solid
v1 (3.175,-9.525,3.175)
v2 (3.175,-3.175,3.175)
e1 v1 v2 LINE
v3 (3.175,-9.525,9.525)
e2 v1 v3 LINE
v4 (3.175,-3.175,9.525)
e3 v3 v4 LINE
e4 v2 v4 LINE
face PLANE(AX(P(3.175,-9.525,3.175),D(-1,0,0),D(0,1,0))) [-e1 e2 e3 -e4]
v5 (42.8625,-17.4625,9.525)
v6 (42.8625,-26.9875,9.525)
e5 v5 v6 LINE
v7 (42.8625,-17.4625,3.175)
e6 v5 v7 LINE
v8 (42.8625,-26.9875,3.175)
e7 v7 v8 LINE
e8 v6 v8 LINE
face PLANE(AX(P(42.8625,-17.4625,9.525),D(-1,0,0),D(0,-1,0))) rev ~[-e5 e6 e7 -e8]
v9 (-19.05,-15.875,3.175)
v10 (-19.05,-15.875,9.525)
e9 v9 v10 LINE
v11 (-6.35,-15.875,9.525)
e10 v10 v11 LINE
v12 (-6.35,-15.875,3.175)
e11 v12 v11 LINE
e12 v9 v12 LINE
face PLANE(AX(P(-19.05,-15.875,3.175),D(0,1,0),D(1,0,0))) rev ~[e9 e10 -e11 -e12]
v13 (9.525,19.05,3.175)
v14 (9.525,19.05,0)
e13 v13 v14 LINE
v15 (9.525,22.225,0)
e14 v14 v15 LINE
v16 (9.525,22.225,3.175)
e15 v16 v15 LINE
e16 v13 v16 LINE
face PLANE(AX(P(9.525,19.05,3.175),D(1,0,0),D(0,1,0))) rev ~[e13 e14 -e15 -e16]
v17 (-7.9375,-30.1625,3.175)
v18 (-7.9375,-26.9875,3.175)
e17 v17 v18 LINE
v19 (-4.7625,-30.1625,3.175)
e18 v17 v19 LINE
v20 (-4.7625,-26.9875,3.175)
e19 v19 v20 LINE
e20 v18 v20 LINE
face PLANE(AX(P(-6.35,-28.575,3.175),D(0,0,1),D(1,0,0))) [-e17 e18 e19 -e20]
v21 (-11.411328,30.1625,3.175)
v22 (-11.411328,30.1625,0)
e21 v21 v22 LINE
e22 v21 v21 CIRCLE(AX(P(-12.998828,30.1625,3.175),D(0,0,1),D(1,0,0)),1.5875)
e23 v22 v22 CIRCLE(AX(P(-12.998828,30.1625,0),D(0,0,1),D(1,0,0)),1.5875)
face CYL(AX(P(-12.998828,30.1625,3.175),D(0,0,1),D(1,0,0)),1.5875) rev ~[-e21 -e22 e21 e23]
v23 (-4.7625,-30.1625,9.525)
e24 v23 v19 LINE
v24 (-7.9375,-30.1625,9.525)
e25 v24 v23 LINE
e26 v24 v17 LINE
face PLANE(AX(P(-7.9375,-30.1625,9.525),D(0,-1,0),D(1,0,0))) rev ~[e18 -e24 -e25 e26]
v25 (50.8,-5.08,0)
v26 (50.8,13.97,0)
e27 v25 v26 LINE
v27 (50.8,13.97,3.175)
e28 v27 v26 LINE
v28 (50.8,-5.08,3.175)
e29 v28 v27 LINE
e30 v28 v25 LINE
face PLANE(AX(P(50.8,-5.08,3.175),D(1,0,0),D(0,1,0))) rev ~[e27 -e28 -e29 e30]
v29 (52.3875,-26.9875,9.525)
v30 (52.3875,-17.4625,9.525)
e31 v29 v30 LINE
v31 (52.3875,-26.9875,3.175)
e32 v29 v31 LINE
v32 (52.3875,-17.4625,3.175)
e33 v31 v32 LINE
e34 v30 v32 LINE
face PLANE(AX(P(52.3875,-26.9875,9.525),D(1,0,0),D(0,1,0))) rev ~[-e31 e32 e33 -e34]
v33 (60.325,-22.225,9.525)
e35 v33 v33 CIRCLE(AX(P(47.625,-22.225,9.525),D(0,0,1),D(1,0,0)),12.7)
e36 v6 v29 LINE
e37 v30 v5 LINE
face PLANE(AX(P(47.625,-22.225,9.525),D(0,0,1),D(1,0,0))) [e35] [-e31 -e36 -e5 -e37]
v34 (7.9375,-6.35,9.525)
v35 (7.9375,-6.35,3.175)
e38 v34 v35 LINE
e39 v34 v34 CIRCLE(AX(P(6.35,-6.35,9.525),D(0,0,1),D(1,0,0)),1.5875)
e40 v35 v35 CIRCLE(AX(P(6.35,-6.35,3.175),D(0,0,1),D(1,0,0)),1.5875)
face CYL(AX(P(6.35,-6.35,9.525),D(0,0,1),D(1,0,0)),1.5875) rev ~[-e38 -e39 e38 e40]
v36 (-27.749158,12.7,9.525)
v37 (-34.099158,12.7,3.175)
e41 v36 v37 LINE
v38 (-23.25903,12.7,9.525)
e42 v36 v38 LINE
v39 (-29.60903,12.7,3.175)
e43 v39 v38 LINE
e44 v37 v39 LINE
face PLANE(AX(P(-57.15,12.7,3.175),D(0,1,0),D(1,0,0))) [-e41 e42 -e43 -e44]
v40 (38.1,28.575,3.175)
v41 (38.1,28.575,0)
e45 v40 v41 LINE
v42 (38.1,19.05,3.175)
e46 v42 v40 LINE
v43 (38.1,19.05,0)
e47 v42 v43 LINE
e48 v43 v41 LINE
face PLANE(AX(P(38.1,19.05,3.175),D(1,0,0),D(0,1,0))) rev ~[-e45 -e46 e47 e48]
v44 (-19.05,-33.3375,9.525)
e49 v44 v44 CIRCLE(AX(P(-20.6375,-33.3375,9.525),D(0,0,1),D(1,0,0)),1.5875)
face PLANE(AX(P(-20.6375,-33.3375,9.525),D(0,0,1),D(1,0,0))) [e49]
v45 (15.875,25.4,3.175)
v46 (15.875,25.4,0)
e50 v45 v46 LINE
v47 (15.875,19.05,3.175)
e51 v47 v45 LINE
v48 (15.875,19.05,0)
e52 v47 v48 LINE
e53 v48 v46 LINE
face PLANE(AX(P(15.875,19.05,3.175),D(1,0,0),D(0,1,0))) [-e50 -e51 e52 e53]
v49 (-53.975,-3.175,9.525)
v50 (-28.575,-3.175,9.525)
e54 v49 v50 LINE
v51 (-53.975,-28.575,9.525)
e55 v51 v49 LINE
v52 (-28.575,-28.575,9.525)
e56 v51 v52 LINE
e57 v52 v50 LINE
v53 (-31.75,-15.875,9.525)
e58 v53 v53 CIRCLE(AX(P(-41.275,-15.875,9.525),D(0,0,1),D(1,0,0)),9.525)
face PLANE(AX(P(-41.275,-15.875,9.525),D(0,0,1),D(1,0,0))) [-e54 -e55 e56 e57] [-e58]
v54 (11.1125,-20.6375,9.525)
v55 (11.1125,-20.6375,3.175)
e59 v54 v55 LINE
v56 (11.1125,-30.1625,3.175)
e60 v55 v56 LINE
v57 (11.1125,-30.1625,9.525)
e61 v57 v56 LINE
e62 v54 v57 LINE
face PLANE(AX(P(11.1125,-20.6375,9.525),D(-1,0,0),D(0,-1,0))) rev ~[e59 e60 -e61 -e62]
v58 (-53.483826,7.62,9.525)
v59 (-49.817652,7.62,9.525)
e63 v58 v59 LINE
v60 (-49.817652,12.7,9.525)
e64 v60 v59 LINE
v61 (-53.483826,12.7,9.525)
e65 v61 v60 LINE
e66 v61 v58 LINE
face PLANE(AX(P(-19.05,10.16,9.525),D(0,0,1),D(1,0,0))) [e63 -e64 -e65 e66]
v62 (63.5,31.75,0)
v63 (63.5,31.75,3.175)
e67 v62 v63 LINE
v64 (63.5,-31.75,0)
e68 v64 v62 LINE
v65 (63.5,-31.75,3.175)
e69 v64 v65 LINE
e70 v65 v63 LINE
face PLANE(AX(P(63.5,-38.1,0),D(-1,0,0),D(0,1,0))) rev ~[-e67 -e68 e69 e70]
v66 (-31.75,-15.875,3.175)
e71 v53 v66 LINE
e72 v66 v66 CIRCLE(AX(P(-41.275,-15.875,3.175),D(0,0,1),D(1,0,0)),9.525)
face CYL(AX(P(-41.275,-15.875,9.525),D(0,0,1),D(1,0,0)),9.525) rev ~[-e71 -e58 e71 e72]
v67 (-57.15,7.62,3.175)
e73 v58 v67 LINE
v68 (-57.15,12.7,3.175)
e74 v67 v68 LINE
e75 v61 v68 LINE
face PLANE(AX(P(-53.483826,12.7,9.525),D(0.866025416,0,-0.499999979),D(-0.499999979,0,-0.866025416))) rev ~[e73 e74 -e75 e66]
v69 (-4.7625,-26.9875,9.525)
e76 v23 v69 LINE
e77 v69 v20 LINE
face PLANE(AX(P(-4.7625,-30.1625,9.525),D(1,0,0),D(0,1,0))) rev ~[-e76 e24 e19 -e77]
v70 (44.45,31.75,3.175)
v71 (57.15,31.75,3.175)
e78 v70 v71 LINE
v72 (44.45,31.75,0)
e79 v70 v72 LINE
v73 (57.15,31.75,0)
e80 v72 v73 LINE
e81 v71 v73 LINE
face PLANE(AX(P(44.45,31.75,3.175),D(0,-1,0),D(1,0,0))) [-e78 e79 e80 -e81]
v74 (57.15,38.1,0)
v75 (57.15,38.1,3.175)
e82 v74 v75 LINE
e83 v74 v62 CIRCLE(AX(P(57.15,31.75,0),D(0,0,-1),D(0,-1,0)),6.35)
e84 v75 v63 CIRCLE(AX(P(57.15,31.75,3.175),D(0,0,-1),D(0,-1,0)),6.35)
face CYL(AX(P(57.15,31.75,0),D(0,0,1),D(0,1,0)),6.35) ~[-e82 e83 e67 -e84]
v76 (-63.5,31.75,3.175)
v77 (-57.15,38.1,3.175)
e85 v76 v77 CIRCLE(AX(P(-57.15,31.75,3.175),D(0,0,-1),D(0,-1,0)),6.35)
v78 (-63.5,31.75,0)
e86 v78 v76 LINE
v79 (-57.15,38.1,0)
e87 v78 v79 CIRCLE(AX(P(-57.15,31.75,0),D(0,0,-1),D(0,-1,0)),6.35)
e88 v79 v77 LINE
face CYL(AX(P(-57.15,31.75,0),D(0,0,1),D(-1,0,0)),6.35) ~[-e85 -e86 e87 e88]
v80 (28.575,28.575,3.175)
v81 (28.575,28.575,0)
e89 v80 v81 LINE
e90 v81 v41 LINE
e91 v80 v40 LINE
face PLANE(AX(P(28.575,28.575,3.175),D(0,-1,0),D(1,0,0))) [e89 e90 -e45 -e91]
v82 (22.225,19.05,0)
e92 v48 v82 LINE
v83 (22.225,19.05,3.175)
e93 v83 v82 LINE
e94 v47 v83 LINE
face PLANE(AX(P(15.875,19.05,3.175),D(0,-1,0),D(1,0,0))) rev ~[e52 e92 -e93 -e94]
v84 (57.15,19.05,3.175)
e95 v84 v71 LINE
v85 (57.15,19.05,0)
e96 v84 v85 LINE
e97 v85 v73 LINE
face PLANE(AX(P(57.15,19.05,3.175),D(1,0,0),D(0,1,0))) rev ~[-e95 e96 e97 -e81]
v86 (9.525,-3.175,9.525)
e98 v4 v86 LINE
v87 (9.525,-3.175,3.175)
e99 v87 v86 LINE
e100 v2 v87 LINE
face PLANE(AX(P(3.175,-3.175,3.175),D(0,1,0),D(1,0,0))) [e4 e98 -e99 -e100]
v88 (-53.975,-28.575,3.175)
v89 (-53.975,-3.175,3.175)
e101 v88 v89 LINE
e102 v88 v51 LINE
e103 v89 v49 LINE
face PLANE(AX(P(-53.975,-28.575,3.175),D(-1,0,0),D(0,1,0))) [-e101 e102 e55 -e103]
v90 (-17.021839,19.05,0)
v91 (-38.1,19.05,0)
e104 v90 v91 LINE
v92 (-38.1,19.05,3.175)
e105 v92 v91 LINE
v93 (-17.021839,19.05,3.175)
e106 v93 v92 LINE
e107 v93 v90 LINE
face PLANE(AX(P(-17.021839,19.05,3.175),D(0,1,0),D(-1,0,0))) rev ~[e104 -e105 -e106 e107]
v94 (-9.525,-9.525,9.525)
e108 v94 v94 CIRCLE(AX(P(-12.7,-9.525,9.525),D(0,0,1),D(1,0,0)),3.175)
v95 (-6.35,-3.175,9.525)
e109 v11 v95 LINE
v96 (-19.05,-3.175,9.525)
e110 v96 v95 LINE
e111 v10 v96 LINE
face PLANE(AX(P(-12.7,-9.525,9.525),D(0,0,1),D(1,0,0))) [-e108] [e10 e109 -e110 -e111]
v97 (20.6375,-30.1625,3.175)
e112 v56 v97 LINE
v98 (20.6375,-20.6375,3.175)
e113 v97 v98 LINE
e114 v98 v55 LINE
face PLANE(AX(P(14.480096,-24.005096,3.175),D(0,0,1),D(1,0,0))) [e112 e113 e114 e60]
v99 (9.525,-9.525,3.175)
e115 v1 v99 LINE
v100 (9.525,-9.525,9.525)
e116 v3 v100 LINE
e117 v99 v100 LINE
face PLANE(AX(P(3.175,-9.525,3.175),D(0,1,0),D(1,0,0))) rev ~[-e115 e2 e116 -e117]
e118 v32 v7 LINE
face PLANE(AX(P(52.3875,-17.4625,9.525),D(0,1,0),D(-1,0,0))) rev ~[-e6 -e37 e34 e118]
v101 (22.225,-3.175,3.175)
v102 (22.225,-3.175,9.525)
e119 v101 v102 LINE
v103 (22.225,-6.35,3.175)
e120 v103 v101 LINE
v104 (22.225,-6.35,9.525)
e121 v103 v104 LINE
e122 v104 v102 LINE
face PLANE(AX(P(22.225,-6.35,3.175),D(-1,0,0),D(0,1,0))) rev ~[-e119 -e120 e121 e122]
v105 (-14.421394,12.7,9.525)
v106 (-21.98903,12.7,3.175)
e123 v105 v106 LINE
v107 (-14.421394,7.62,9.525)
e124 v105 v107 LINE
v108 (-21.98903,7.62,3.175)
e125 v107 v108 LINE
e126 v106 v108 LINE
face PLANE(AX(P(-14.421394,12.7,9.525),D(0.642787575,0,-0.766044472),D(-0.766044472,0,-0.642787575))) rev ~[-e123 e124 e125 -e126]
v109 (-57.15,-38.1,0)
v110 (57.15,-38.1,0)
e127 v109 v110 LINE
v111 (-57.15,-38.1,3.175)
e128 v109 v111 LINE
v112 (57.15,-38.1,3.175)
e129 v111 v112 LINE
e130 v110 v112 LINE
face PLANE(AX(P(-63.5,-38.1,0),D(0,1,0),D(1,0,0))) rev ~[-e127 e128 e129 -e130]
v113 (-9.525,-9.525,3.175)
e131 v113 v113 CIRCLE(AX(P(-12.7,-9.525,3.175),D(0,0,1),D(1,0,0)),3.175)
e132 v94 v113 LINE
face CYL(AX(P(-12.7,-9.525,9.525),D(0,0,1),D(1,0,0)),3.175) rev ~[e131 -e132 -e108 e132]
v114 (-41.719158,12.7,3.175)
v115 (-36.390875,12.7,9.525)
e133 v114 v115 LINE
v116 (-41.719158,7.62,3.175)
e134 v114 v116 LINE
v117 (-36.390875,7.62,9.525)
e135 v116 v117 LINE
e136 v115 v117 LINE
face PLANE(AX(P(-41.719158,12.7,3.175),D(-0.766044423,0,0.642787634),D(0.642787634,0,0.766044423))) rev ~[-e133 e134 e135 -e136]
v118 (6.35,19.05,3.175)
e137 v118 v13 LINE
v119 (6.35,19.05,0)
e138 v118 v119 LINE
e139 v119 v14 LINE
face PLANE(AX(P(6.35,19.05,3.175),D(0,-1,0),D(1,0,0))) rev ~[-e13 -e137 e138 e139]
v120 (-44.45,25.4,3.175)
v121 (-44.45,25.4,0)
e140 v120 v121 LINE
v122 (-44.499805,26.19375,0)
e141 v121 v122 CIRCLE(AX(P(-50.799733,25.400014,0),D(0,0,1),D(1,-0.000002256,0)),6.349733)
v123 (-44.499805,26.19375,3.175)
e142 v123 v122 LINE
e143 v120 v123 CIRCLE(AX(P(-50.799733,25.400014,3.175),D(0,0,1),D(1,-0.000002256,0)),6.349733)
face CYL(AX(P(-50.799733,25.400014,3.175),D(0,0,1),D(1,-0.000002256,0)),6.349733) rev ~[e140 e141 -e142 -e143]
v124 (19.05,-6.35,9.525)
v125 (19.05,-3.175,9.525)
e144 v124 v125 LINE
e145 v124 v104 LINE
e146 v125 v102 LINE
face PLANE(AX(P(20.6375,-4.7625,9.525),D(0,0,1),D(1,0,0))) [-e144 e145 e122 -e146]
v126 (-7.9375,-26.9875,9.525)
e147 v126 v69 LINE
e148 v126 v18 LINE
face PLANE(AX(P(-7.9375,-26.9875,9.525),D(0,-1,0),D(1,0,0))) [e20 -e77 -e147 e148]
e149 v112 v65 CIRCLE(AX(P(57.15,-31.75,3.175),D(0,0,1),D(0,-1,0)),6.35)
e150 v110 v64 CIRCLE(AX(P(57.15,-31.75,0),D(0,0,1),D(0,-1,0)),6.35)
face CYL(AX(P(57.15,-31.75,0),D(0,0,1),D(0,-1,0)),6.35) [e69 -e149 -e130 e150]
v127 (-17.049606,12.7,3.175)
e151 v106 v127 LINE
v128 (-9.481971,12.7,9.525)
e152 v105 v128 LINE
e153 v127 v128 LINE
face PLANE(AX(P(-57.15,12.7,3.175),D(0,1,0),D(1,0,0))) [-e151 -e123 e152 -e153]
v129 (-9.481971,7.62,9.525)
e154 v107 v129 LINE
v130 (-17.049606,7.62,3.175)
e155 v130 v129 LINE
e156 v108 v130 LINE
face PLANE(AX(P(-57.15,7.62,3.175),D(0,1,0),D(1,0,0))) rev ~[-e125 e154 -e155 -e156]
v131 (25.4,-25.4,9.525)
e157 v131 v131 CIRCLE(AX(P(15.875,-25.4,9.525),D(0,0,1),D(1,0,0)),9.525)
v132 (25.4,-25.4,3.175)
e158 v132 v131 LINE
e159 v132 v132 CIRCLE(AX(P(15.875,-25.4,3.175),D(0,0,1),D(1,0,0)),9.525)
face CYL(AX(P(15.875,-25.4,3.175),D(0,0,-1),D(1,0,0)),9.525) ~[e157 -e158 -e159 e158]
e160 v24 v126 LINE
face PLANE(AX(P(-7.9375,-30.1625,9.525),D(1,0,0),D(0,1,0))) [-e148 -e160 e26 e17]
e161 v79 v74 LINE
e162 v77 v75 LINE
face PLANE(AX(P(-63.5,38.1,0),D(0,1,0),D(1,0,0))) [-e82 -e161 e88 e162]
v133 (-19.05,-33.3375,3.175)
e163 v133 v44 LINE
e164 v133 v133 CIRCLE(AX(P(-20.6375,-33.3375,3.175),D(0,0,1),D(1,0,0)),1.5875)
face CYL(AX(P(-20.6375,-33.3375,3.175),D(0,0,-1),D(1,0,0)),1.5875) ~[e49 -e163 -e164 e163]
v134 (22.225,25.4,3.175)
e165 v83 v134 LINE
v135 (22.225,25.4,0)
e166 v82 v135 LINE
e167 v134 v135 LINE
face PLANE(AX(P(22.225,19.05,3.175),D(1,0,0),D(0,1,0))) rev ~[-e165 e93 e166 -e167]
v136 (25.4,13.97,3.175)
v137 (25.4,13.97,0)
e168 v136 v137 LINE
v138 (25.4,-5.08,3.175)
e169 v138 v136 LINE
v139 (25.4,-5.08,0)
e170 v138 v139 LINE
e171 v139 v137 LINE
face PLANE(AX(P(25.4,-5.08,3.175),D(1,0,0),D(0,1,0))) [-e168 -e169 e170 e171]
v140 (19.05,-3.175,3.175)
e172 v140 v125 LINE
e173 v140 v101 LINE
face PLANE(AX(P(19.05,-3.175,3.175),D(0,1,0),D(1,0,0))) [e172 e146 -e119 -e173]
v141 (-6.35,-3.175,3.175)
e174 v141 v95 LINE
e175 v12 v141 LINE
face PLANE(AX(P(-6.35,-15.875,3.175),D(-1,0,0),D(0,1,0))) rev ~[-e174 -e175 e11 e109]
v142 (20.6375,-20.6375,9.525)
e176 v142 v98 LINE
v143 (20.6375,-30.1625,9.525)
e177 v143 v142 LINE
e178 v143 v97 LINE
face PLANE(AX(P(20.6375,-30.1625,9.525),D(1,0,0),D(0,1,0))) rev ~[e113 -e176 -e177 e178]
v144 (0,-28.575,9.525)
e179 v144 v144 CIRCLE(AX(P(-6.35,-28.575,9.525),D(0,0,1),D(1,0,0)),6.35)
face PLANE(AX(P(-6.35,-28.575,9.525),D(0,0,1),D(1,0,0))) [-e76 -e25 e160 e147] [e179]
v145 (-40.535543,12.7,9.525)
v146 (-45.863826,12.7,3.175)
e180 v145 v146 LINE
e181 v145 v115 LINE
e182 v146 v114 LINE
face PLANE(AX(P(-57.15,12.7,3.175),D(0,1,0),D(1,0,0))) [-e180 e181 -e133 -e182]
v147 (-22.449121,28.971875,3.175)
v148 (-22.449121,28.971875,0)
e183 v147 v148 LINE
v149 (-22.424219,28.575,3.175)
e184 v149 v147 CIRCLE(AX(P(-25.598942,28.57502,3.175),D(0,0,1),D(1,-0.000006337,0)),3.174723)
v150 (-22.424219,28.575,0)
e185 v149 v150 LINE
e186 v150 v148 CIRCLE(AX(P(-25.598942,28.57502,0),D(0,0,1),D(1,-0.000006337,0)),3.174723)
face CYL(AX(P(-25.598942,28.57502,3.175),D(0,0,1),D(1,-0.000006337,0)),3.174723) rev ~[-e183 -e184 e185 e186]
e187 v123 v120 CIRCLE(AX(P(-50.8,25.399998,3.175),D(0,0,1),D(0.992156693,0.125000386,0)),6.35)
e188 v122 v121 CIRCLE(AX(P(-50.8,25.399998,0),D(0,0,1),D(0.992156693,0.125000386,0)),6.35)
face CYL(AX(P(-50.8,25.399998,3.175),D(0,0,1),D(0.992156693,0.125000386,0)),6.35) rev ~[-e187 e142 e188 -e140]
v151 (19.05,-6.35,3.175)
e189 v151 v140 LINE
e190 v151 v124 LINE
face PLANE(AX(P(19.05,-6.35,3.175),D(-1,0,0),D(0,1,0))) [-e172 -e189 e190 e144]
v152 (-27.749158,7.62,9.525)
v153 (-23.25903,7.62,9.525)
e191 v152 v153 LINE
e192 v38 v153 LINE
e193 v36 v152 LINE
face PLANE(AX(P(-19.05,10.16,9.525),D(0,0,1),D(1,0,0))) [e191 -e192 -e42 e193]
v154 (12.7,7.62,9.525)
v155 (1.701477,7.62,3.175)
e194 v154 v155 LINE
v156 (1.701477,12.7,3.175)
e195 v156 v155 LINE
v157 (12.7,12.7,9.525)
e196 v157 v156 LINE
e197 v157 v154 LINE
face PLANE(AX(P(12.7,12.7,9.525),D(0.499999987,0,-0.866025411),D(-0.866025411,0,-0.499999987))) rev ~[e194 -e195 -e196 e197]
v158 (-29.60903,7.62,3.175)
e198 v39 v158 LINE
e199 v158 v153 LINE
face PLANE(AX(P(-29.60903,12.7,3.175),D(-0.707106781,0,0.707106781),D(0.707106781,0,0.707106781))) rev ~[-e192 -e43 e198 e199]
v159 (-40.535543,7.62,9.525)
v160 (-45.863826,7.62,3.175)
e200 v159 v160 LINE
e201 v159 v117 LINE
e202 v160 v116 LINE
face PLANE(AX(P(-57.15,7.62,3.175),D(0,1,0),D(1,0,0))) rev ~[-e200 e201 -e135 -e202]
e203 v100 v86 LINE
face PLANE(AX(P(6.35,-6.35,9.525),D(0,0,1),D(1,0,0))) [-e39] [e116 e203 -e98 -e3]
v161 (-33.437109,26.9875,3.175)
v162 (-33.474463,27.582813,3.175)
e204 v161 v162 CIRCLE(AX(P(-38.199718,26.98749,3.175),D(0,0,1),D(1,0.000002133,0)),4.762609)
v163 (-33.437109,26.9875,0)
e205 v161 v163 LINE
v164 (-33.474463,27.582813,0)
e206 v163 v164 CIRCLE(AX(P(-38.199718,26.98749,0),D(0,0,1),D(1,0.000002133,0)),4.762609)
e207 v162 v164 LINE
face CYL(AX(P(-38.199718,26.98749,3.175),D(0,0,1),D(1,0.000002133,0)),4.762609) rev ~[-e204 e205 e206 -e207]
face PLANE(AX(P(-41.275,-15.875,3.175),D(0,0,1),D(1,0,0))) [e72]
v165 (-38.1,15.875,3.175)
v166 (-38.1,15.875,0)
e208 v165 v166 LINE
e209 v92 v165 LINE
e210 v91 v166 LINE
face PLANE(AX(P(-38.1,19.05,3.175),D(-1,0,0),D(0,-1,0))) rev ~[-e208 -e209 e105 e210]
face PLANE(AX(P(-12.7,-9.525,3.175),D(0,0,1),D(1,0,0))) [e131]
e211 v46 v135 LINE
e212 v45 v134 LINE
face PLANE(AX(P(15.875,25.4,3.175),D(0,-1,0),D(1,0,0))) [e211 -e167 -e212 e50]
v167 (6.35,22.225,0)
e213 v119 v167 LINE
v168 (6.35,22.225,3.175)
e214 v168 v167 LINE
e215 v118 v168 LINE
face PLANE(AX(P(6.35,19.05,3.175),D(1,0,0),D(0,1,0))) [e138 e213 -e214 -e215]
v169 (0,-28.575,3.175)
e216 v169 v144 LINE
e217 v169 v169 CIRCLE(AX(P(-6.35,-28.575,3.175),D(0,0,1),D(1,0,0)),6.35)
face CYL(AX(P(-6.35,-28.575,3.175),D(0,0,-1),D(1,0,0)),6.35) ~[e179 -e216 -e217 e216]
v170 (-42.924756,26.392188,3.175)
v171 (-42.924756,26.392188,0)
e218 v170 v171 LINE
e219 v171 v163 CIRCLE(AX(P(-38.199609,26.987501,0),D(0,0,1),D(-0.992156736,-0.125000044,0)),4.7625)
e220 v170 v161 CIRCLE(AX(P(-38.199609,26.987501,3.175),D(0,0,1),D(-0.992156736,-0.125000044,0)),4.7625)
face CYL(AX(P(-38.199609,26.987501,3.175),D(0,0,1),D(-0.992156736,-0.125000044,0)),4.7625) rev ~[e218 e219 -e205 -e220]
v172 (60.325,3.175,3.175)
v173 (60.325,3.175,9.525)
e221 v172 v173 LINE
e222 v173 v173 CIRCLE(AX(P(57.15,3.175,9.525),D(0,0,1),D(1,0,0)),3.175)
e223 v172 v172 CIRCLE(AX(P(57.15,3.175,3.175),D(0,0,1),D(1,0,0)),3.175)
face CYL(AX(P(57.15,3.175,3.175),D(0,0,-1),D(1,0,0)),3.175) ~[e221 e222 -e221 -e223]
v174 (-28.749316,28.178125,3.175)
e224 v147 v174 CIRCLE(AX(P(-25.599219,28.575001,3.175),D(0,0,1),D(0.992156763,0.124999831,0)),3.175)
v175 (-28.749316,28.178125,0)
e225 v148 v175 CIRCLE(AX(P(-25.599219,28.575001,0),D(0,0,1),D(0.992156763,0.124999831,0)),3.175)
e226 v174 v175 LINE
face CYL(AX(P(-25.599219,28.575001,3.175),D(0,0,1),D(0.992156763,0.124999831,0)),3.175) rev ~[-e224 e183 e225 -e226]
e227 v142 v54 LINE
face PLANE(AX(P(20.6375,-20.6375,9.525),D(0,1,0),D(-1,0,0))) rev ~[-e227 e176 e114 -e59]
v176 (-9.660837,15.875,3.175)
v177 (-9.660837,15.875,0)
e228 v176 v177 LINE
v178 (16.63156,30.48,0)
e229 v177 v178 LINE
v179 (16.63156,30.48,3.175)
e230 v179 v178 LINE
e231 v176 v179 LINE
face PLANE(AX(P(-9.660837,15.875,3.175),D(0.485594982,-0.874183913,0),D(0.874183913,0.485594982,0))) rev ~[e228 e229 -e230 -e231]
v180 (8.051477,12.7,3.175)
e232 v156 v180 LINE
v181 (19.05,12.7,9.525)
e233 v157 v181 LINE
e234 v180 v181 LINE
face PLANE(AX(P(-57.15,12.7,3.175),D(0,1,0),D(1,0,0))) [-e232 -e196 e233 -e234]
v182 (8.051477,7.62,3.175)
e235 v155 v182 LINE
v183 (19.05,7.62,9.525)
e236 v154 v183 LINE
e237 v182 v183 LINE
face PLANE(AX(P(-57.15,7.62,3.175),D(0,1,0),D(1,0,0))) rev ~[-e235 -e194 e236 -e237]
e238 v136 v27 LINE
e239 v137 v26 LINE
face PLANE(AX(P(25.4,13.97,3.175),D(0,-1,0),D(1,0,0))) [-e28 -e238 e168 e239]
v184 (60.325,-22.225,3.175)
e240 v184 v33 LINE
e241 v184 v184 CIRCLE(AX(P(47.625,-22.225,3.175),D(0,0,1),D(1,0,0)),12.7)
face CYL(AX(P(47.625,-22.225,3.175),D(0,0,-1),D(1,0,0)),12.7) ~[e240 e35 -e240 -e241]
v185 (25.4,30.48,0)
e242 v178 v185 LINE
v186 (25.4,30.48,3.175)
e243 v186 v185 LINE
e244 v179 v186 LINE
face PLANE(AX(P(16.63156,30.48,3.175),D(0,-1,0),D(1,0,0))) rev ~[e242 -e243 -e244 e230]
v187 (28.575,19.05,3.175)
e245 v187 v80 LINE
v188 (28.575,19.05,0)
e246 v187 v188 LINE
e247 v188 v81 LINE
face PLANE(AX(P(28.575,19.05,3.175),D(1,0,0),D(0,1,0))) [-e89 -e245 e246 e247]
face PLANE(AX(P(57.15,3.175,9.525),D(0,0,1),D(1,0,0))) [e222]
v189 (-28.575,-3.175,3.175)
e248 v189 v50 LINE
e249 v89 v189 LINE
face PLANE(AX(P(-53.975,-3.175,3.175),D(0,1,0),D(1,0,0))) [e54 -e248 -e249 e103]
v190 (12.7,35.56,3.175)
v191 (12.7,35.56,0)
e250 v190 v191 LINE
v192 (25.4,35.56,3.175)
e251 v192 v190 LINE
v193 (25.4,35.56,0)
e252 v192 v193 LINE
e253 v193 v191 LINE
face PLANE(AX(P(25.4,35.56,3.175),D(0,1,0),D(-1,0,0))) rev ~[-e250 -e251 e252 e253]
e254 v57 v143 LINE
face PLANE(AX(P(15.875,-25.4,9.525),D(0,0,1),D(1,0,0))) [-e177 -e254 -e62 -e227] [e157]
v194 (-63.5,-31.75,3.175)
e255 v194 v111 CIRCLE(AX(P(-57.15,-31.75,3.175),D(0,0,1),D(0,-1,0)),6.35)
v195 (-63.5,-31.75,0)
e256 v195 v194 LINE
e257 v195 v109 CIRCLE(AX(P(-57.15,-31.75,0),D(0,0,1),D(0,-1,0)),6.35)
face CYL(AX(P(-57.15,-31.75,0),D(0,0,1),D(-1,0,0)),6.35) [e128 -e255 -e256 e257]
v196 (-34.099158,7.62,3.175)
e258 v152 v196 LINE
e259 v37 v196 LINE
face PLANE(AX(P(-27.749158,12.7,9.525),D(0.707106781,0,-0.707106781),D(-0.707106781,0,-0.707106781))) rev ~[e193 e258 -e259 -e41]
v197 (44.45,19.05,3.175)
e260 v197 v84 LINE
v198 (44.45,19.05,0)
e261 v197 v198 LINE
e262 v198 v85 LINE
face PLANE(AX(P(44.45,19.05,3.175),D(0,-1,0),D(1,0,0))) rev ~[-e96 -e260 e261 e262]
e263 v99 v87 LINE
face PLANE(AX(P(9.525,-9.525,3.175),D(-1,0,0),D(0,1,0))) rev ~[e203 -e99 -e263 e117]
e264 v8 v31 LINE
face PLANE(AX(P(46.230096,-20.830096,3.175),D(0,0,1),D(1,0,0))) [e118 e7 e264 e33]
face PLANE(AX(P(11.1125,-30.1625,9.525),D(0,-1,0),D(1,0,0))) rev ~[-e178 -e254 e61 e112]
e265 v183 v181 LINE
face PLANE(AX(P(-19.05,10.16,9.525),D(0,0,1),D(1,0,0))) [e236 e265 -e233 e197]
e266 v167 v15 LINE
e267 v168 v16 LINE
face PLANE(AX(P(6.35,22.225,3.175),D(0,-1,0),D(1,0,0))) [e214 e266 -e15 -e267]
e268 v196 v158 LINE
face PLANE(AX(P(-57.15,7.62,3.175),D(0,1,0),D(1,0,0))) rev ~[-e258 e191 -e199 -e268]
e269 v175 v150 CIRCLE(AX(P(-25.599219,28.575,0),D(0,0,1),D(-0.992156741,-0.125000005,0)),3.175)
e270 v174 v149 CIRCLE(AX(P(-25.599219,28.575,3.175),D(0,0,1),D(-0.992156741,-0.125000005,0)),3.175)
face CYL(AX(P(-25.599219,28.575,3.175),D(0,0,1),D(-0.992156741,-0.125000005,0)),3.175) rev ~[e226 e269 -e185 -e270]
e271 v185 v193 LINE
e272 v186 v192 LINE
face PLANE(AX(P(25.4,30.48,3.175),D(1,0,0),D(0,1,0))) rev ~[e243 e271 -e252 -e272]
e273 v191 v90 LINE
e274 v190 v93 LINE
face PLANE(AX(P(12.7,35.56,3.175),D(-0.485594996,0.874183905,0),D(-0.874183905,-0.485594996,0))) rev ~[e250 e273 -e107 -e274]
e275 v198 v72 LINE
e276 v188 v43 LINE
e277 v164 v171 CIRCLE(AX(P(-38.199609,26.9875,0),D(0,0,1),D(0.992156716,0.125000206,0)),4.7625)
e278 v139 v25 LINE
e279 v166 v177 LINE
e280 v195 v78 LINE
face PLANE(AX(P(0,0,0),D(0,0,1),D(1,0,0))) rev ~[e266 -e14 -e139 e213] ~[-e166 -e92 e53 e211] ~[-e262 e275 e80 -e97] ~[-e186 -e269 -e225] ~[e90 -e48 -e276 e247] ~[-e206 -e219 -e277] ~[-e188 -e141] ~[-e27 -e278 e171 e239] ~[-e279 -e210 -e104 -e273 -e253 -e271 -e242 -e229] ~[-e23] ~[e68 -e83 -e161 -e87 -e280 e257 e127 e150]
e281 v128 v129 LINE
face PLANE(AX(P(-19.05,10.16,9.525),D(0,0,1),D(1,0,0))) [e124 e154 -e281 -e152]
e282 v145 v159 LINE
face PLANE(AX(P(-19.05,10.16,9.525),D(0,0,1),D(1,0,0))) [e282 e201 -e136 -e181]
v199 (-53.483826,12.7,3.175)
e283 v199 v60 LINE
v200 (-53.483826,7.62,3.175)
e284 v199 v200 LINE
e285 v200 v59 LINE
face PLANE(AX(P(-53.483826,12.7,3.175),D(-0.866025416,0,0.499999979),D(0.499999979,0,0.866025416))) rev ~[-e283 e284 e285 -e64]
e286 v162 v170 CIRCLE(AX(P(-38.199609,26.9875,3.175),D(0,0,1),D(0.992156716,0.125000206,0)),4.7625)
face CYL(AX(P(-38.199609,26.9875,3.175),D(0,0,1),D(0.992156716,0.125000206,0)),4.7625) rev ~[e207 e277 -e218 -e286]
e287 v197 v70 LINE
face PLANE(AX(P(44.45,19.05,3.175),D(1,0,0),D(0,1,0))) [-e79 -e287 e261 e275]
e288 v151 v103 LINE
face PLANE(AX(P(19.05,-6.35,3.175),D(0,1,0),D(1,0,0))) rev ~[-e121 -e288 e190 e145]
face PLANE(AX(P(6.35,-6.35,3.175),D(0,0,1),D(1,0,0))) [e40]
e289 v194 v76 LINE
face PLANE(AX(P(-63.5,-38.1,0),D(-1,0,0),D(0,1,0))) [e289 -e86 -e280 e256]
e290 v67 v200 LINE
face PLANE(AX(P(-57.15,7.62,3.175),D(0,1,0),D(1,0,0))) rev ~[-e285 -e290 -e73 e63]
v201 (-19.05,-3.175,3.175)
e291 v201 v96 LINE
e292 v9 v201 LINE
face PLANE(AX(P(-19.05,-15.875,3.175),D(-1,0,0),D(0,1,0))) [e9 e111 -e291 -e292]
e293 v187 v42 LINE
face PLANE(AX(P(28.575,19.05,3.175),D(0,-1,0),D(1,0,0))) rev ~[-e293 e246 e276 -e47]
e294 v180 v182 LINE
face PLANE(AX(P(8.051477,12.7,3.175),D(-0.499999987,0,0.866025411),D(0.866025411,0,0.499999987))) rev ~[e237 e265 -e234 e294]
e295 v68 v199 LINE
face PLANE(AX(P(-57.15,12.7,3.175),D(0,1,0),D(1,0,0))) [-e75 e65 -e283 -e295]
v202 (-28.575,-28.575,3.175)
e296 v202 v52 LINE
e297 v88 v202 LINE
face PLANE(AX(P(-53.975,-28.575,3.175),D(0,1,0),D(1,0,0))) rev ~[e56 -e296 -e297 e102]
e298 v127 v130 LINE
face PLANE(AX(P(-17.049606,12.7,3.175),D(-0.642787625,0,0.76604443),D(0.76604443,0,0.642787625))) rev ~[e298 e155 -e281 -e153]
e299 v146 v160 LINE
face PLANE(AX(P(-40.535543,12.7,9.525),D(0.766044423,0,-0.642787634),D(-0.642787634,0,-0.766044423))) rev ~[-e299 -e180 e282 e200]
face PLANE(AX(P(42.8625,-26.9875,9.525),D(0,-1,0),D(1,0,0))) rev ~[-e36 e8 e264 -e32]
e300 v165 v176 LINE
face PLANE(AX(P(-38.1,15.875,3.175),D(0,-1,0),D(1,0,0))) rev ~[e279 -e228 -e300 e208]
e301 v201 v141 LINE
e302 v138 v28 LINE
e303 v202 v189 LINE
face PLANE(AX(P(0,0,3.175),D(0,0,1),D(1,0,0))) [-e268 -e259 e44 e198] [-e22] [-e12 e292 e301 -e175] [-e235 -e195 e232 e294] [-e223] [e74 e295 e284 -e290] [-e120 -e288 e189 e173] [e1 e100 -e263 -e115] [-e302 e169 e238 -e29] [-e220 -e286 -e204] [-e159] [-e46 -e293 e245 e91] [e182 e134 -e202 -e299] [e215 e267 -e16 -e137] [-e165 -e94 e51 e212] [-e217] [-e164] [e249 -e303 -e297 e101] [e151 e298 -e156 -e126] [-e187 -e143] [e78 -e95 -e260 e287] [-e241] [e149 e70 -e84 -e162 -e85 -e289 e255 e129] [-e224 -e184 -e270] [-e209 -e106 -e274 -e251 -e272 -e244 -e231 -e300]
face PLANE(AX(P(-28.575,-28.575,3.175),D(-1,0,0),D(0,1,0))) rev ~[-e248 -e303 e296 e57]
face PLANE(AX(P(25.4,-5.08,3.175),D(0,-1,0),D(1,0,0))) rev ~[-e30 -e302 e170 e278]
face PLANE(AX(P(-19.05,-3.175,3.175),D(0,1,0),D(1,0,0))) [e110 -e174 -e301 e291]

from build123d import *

# Parameters (mm, degrees)
F0_W      = 127
F0_H      = 76.2
F1_DEPTH  = 3.175
F2_R      = 1.5875
F2_W      = 12.7
F2_H      = 12.7
F2_W_2    = 9.525
F2_H_2    = 9.525
F2_W_3    = 6.35
F2_H_3    = 6.35
F2_W_4    = 3.175
F2_H_4    = 3.175
F3_DEPTH  = 3.175
F4_W      = 25.4
F4_H      = 25.4
F4_W_2    = 12.7
F4_H_2    = 12.7
F4_W_3    = 6.35
F4_H_3    = 6.35
F4_W_4    = 3.175
F4_H_4    = 3.175
F5_DEPTH  = 6.35
F6_R      = 9.525
F6_R_2    = 3.175
F6_R_3    = 1.5875
F7_DEPTH  = 6.35
F8_R      = 12.7
F8_R_2    = 6.35
F8_R_3    = 9.525
F8_R_4    = 3.175
F8_R_5    = 1.5875
F9_DEPTH  = 6.35
F10_W     = 3.175
F10_H     = 3.175
F11_DEPTH = 6.35
F12_W     = 76.2
F12_H     = 5.08
F13_DEPTH = 6.35
F15_DEPTH = 5.08
F16_R     = 6.35
F18_DEPTH = 3.175
F19_W     = 25.4
F19_H     = 19.05
F20_DEPTH = 3.175


with BuildPart() as f1:
    # F0 (on Top) → F1 (new body)
    with BuildSketch(Plane.XY):
        Rectangle(F0_W, F0_H)
    extrude(amount=F1_DEPTH)

    # F2 (on face) → F3 (cut, through all)
    with BuildSketch(Plane.XY.offset(3.175)):
        with BuildLine():
            ThreePointArc((-44.499805, 26.19375), (-57.137537, 25.002345), (-44.45, 25.4))
            ThreePointArc((-44.45, 25.4), (-44.462463, 25.797655), (-44.499805, 26.19375))
        make_face()
        with BuildLine():
            ThreePointArc((-22.449121, 28.971875), (-25.996094, 31.725098), (-28.749316, 28.178125))
            Line((-28.749316, 28.178125), (-22.449121, 28.971875))
        make_face()
        with BuildLine():
            Line((-22.449121, 28.971875), (-28.749316, 28.178125))
            ThreePointArc((-28.749316, 28.178125), (-25.400391, 25.406232), (-22.424219, 28.575))
            ThreePointArc((-22.424219, 28.575), (-22.43045, 28.773828), (-22.449121, 28.971875))
        make_face()
        with BuildLine():
            ThreePointArc((-33.474463, 27.582813), (-38.794922, 31.712646), (-42.924756, 26.392188))
            Line((-42.924756, 26.392188), (-33.474463, 27.582813))
        make_face()
        with BuildLine():
            Line((-33.474463, 27.582813), (-42.924756, 26.392188))
            ThreePointArc((-42.924756, 26.392188), (-37.901368, 22.234348), (-33.437109, 26.9875))
            ThreePointArc((-33.437109, 26.9875), (-33.446457, 27.285742), (-33.474463, 27.582813))
        make_face()
        with Locations((-12.998828, 30.1625)):
            Circle(F2_R)
        with Locations((50.8, 25.4)):
            Rectangle(F2_W, F2_H)
        with Locations((33.3375, 23.8125)):
            Rectangle(F2_W_2, F2_H_2)
        with Locations((19.05, 22.225)):
            Rectangle(F2_W_3, F2_H_3)
        with Locations((7.9375, 20.6375)):
            Rectangle(F2_W_4, F2_H_4)
    extrude(amount=-F3_DEPTH, mode=Mode.SUBTRACT)

    # F4 (on face) → F5 (join)
    with BuildSketch(Plane.XY.offset(3.175)):
        with Locations((-41.275, -15.875)):
            Rectangle(F4_W, F4_H)
        with Locations((-12.7, -9.525)):
            Rectangle(F4_W_2, F4_H_2)
        with Locations((6.35, -6.35)):
            Rectangle(F4_W_3, F4_H_3)
        with Locations((20.6375, -4.7625)):
            Rectangle(F4_W_4, F4_H_4)
    extrude(amount=F5_DEPTH)

    # F6 (on face) → F7 (cut)
    with BuildSketch(Plane.XY.offset(9.525)):
        with Locations((-41.275, -15.875)):
            Circle(F6_R)
        with Locations((-12.7, -9.525)):
            Circle(F6_R_2)
        with Locations((6.35, -6.35)):
            Circle(F6_R_3)
    extrude(amount=-F7_DEPTH, mode=Mode.SUBTRACT)

    # F8 (on face) → F9 (join)
    with BuildSketch(Plane.XY.offset(3.175)):
        with Locations((47.625, -22.225)):
            Circle(F8_R)
        with Locations((-6.35, -28.575)):
            Circle(F8_R_2)
        with Locations((15.875, -25.4)):
            Circle(F8_R_3)
        with Locations((57.15, 3.175)):
            Circle(F8_R_4)
        with Locations((-20.6375, -33.3375)):
            Circle(F8_R_5)
    extrude(amount=F9_DEPTH)

    # F10 (on face) → F11 (cut)
    with BuildSketch(Plane.XY.offset(9.525)):
        Polygon((52.3875, -17.4625), (42.8625, -17.4625), (42.8625, -26.9875), align=None)
        Polygon((52.3875, -26.9875), (52.3875, -17.4625), (42.8625, -26.9875), align=None)
        Polygon((20.6375, -20.6375), (11.1125, -20.6375), (11.1125, -30.1625), align=None)
        Polygon((20.6375, -30.1625), (20.6375, -20.6375), (11.1125, -30.1625), align=None)
        with Locations((-6.35, -28.575)):
            Rectangle(F10_W, F10_H)
    extrude(amount=-F11_DEPTH, mode=Mode.SUBTRACT)

    # F12 (on face) → F13 (join)
    with BuildSketch(Plane.XY.offset(3.175)):
        with Locations((-19.05, 10.16)):
            Rectangle(F12_W, F12_H)
    extrude(amount=F13_DEPTH)

    # F14 (on face) → F15 (cut, through all)
    with BuildSketch(Plane(origin=(0, 12.7, 0), x_dir=(-1, 0, 0), z_dir=(0, 1, 0))):
        Polygon((53.483826, 9.525), (57.15, 3.175), (57.15, 9.525), align=None)
        Polygon((45.863826, 3.175), (53.483826, 3.175), (49.817652, 9.525), (40.535543, 9.525), align=None)
        Polygon((34.099158, 3.175), (41.719158, 3.175), (36.390875, 9.525), (27.749158, 9.525), align=None)
        Polygon((14.421394, 9.525), (21.98903, 3.175), (29.60903, 3.175), (23.25903, 9.525), align=None)
        Polygon((-1.701477, 3.175), (17.049606, 3.175), (9.481971, 9.525), (-12.7, 9.525), align=None)
        Polygon((-19.05, 3.175), (-8.051477, 3.175), (-19.05, 9.525), align=None)
    extrude(amount=-F15_DEPTH, mode=Mode.SUBTRACT)

    # F16
    f16_edges = [f1.edges().sort_by_distance(p)[0] for p in [
        (63.5, -38.1, 1.5875),
        (-63.5, -38.1, 1.5875),
        (-63.5, 38.1, 1.5875),
        (63.5, 38.1, 1.5875),
    ]]
    fillet(f16_edges, radius=F16_R)

    # F17 (on face) → F18 (cut, through all)
    with BuildSketch(Plane.XY.offset(3.175)):
        Polygon((-9.660837, 15.875), (16.63156, 30.48), (25.4, 30.48), (25.4, 35.56), (12.7, 35.56), (-17.021839, 19.05), (-38.1, 19.05), (-38.1, 15.875), align=None)
    extrude(amount=-F18_DEPTH, mode=Mode.SUBTRACT)

    # F19 (on face) → F20 (cut, through all)
    with BuildSketch(Plane.XY.offset(3.175)):
        with Locations((38.1, 4.445)):
            Rectangle(F19_W, F19_H)
    extrude(amount=-F20_DEPTH, mode=Mode.SUBTRACT)


solid = f1.part
